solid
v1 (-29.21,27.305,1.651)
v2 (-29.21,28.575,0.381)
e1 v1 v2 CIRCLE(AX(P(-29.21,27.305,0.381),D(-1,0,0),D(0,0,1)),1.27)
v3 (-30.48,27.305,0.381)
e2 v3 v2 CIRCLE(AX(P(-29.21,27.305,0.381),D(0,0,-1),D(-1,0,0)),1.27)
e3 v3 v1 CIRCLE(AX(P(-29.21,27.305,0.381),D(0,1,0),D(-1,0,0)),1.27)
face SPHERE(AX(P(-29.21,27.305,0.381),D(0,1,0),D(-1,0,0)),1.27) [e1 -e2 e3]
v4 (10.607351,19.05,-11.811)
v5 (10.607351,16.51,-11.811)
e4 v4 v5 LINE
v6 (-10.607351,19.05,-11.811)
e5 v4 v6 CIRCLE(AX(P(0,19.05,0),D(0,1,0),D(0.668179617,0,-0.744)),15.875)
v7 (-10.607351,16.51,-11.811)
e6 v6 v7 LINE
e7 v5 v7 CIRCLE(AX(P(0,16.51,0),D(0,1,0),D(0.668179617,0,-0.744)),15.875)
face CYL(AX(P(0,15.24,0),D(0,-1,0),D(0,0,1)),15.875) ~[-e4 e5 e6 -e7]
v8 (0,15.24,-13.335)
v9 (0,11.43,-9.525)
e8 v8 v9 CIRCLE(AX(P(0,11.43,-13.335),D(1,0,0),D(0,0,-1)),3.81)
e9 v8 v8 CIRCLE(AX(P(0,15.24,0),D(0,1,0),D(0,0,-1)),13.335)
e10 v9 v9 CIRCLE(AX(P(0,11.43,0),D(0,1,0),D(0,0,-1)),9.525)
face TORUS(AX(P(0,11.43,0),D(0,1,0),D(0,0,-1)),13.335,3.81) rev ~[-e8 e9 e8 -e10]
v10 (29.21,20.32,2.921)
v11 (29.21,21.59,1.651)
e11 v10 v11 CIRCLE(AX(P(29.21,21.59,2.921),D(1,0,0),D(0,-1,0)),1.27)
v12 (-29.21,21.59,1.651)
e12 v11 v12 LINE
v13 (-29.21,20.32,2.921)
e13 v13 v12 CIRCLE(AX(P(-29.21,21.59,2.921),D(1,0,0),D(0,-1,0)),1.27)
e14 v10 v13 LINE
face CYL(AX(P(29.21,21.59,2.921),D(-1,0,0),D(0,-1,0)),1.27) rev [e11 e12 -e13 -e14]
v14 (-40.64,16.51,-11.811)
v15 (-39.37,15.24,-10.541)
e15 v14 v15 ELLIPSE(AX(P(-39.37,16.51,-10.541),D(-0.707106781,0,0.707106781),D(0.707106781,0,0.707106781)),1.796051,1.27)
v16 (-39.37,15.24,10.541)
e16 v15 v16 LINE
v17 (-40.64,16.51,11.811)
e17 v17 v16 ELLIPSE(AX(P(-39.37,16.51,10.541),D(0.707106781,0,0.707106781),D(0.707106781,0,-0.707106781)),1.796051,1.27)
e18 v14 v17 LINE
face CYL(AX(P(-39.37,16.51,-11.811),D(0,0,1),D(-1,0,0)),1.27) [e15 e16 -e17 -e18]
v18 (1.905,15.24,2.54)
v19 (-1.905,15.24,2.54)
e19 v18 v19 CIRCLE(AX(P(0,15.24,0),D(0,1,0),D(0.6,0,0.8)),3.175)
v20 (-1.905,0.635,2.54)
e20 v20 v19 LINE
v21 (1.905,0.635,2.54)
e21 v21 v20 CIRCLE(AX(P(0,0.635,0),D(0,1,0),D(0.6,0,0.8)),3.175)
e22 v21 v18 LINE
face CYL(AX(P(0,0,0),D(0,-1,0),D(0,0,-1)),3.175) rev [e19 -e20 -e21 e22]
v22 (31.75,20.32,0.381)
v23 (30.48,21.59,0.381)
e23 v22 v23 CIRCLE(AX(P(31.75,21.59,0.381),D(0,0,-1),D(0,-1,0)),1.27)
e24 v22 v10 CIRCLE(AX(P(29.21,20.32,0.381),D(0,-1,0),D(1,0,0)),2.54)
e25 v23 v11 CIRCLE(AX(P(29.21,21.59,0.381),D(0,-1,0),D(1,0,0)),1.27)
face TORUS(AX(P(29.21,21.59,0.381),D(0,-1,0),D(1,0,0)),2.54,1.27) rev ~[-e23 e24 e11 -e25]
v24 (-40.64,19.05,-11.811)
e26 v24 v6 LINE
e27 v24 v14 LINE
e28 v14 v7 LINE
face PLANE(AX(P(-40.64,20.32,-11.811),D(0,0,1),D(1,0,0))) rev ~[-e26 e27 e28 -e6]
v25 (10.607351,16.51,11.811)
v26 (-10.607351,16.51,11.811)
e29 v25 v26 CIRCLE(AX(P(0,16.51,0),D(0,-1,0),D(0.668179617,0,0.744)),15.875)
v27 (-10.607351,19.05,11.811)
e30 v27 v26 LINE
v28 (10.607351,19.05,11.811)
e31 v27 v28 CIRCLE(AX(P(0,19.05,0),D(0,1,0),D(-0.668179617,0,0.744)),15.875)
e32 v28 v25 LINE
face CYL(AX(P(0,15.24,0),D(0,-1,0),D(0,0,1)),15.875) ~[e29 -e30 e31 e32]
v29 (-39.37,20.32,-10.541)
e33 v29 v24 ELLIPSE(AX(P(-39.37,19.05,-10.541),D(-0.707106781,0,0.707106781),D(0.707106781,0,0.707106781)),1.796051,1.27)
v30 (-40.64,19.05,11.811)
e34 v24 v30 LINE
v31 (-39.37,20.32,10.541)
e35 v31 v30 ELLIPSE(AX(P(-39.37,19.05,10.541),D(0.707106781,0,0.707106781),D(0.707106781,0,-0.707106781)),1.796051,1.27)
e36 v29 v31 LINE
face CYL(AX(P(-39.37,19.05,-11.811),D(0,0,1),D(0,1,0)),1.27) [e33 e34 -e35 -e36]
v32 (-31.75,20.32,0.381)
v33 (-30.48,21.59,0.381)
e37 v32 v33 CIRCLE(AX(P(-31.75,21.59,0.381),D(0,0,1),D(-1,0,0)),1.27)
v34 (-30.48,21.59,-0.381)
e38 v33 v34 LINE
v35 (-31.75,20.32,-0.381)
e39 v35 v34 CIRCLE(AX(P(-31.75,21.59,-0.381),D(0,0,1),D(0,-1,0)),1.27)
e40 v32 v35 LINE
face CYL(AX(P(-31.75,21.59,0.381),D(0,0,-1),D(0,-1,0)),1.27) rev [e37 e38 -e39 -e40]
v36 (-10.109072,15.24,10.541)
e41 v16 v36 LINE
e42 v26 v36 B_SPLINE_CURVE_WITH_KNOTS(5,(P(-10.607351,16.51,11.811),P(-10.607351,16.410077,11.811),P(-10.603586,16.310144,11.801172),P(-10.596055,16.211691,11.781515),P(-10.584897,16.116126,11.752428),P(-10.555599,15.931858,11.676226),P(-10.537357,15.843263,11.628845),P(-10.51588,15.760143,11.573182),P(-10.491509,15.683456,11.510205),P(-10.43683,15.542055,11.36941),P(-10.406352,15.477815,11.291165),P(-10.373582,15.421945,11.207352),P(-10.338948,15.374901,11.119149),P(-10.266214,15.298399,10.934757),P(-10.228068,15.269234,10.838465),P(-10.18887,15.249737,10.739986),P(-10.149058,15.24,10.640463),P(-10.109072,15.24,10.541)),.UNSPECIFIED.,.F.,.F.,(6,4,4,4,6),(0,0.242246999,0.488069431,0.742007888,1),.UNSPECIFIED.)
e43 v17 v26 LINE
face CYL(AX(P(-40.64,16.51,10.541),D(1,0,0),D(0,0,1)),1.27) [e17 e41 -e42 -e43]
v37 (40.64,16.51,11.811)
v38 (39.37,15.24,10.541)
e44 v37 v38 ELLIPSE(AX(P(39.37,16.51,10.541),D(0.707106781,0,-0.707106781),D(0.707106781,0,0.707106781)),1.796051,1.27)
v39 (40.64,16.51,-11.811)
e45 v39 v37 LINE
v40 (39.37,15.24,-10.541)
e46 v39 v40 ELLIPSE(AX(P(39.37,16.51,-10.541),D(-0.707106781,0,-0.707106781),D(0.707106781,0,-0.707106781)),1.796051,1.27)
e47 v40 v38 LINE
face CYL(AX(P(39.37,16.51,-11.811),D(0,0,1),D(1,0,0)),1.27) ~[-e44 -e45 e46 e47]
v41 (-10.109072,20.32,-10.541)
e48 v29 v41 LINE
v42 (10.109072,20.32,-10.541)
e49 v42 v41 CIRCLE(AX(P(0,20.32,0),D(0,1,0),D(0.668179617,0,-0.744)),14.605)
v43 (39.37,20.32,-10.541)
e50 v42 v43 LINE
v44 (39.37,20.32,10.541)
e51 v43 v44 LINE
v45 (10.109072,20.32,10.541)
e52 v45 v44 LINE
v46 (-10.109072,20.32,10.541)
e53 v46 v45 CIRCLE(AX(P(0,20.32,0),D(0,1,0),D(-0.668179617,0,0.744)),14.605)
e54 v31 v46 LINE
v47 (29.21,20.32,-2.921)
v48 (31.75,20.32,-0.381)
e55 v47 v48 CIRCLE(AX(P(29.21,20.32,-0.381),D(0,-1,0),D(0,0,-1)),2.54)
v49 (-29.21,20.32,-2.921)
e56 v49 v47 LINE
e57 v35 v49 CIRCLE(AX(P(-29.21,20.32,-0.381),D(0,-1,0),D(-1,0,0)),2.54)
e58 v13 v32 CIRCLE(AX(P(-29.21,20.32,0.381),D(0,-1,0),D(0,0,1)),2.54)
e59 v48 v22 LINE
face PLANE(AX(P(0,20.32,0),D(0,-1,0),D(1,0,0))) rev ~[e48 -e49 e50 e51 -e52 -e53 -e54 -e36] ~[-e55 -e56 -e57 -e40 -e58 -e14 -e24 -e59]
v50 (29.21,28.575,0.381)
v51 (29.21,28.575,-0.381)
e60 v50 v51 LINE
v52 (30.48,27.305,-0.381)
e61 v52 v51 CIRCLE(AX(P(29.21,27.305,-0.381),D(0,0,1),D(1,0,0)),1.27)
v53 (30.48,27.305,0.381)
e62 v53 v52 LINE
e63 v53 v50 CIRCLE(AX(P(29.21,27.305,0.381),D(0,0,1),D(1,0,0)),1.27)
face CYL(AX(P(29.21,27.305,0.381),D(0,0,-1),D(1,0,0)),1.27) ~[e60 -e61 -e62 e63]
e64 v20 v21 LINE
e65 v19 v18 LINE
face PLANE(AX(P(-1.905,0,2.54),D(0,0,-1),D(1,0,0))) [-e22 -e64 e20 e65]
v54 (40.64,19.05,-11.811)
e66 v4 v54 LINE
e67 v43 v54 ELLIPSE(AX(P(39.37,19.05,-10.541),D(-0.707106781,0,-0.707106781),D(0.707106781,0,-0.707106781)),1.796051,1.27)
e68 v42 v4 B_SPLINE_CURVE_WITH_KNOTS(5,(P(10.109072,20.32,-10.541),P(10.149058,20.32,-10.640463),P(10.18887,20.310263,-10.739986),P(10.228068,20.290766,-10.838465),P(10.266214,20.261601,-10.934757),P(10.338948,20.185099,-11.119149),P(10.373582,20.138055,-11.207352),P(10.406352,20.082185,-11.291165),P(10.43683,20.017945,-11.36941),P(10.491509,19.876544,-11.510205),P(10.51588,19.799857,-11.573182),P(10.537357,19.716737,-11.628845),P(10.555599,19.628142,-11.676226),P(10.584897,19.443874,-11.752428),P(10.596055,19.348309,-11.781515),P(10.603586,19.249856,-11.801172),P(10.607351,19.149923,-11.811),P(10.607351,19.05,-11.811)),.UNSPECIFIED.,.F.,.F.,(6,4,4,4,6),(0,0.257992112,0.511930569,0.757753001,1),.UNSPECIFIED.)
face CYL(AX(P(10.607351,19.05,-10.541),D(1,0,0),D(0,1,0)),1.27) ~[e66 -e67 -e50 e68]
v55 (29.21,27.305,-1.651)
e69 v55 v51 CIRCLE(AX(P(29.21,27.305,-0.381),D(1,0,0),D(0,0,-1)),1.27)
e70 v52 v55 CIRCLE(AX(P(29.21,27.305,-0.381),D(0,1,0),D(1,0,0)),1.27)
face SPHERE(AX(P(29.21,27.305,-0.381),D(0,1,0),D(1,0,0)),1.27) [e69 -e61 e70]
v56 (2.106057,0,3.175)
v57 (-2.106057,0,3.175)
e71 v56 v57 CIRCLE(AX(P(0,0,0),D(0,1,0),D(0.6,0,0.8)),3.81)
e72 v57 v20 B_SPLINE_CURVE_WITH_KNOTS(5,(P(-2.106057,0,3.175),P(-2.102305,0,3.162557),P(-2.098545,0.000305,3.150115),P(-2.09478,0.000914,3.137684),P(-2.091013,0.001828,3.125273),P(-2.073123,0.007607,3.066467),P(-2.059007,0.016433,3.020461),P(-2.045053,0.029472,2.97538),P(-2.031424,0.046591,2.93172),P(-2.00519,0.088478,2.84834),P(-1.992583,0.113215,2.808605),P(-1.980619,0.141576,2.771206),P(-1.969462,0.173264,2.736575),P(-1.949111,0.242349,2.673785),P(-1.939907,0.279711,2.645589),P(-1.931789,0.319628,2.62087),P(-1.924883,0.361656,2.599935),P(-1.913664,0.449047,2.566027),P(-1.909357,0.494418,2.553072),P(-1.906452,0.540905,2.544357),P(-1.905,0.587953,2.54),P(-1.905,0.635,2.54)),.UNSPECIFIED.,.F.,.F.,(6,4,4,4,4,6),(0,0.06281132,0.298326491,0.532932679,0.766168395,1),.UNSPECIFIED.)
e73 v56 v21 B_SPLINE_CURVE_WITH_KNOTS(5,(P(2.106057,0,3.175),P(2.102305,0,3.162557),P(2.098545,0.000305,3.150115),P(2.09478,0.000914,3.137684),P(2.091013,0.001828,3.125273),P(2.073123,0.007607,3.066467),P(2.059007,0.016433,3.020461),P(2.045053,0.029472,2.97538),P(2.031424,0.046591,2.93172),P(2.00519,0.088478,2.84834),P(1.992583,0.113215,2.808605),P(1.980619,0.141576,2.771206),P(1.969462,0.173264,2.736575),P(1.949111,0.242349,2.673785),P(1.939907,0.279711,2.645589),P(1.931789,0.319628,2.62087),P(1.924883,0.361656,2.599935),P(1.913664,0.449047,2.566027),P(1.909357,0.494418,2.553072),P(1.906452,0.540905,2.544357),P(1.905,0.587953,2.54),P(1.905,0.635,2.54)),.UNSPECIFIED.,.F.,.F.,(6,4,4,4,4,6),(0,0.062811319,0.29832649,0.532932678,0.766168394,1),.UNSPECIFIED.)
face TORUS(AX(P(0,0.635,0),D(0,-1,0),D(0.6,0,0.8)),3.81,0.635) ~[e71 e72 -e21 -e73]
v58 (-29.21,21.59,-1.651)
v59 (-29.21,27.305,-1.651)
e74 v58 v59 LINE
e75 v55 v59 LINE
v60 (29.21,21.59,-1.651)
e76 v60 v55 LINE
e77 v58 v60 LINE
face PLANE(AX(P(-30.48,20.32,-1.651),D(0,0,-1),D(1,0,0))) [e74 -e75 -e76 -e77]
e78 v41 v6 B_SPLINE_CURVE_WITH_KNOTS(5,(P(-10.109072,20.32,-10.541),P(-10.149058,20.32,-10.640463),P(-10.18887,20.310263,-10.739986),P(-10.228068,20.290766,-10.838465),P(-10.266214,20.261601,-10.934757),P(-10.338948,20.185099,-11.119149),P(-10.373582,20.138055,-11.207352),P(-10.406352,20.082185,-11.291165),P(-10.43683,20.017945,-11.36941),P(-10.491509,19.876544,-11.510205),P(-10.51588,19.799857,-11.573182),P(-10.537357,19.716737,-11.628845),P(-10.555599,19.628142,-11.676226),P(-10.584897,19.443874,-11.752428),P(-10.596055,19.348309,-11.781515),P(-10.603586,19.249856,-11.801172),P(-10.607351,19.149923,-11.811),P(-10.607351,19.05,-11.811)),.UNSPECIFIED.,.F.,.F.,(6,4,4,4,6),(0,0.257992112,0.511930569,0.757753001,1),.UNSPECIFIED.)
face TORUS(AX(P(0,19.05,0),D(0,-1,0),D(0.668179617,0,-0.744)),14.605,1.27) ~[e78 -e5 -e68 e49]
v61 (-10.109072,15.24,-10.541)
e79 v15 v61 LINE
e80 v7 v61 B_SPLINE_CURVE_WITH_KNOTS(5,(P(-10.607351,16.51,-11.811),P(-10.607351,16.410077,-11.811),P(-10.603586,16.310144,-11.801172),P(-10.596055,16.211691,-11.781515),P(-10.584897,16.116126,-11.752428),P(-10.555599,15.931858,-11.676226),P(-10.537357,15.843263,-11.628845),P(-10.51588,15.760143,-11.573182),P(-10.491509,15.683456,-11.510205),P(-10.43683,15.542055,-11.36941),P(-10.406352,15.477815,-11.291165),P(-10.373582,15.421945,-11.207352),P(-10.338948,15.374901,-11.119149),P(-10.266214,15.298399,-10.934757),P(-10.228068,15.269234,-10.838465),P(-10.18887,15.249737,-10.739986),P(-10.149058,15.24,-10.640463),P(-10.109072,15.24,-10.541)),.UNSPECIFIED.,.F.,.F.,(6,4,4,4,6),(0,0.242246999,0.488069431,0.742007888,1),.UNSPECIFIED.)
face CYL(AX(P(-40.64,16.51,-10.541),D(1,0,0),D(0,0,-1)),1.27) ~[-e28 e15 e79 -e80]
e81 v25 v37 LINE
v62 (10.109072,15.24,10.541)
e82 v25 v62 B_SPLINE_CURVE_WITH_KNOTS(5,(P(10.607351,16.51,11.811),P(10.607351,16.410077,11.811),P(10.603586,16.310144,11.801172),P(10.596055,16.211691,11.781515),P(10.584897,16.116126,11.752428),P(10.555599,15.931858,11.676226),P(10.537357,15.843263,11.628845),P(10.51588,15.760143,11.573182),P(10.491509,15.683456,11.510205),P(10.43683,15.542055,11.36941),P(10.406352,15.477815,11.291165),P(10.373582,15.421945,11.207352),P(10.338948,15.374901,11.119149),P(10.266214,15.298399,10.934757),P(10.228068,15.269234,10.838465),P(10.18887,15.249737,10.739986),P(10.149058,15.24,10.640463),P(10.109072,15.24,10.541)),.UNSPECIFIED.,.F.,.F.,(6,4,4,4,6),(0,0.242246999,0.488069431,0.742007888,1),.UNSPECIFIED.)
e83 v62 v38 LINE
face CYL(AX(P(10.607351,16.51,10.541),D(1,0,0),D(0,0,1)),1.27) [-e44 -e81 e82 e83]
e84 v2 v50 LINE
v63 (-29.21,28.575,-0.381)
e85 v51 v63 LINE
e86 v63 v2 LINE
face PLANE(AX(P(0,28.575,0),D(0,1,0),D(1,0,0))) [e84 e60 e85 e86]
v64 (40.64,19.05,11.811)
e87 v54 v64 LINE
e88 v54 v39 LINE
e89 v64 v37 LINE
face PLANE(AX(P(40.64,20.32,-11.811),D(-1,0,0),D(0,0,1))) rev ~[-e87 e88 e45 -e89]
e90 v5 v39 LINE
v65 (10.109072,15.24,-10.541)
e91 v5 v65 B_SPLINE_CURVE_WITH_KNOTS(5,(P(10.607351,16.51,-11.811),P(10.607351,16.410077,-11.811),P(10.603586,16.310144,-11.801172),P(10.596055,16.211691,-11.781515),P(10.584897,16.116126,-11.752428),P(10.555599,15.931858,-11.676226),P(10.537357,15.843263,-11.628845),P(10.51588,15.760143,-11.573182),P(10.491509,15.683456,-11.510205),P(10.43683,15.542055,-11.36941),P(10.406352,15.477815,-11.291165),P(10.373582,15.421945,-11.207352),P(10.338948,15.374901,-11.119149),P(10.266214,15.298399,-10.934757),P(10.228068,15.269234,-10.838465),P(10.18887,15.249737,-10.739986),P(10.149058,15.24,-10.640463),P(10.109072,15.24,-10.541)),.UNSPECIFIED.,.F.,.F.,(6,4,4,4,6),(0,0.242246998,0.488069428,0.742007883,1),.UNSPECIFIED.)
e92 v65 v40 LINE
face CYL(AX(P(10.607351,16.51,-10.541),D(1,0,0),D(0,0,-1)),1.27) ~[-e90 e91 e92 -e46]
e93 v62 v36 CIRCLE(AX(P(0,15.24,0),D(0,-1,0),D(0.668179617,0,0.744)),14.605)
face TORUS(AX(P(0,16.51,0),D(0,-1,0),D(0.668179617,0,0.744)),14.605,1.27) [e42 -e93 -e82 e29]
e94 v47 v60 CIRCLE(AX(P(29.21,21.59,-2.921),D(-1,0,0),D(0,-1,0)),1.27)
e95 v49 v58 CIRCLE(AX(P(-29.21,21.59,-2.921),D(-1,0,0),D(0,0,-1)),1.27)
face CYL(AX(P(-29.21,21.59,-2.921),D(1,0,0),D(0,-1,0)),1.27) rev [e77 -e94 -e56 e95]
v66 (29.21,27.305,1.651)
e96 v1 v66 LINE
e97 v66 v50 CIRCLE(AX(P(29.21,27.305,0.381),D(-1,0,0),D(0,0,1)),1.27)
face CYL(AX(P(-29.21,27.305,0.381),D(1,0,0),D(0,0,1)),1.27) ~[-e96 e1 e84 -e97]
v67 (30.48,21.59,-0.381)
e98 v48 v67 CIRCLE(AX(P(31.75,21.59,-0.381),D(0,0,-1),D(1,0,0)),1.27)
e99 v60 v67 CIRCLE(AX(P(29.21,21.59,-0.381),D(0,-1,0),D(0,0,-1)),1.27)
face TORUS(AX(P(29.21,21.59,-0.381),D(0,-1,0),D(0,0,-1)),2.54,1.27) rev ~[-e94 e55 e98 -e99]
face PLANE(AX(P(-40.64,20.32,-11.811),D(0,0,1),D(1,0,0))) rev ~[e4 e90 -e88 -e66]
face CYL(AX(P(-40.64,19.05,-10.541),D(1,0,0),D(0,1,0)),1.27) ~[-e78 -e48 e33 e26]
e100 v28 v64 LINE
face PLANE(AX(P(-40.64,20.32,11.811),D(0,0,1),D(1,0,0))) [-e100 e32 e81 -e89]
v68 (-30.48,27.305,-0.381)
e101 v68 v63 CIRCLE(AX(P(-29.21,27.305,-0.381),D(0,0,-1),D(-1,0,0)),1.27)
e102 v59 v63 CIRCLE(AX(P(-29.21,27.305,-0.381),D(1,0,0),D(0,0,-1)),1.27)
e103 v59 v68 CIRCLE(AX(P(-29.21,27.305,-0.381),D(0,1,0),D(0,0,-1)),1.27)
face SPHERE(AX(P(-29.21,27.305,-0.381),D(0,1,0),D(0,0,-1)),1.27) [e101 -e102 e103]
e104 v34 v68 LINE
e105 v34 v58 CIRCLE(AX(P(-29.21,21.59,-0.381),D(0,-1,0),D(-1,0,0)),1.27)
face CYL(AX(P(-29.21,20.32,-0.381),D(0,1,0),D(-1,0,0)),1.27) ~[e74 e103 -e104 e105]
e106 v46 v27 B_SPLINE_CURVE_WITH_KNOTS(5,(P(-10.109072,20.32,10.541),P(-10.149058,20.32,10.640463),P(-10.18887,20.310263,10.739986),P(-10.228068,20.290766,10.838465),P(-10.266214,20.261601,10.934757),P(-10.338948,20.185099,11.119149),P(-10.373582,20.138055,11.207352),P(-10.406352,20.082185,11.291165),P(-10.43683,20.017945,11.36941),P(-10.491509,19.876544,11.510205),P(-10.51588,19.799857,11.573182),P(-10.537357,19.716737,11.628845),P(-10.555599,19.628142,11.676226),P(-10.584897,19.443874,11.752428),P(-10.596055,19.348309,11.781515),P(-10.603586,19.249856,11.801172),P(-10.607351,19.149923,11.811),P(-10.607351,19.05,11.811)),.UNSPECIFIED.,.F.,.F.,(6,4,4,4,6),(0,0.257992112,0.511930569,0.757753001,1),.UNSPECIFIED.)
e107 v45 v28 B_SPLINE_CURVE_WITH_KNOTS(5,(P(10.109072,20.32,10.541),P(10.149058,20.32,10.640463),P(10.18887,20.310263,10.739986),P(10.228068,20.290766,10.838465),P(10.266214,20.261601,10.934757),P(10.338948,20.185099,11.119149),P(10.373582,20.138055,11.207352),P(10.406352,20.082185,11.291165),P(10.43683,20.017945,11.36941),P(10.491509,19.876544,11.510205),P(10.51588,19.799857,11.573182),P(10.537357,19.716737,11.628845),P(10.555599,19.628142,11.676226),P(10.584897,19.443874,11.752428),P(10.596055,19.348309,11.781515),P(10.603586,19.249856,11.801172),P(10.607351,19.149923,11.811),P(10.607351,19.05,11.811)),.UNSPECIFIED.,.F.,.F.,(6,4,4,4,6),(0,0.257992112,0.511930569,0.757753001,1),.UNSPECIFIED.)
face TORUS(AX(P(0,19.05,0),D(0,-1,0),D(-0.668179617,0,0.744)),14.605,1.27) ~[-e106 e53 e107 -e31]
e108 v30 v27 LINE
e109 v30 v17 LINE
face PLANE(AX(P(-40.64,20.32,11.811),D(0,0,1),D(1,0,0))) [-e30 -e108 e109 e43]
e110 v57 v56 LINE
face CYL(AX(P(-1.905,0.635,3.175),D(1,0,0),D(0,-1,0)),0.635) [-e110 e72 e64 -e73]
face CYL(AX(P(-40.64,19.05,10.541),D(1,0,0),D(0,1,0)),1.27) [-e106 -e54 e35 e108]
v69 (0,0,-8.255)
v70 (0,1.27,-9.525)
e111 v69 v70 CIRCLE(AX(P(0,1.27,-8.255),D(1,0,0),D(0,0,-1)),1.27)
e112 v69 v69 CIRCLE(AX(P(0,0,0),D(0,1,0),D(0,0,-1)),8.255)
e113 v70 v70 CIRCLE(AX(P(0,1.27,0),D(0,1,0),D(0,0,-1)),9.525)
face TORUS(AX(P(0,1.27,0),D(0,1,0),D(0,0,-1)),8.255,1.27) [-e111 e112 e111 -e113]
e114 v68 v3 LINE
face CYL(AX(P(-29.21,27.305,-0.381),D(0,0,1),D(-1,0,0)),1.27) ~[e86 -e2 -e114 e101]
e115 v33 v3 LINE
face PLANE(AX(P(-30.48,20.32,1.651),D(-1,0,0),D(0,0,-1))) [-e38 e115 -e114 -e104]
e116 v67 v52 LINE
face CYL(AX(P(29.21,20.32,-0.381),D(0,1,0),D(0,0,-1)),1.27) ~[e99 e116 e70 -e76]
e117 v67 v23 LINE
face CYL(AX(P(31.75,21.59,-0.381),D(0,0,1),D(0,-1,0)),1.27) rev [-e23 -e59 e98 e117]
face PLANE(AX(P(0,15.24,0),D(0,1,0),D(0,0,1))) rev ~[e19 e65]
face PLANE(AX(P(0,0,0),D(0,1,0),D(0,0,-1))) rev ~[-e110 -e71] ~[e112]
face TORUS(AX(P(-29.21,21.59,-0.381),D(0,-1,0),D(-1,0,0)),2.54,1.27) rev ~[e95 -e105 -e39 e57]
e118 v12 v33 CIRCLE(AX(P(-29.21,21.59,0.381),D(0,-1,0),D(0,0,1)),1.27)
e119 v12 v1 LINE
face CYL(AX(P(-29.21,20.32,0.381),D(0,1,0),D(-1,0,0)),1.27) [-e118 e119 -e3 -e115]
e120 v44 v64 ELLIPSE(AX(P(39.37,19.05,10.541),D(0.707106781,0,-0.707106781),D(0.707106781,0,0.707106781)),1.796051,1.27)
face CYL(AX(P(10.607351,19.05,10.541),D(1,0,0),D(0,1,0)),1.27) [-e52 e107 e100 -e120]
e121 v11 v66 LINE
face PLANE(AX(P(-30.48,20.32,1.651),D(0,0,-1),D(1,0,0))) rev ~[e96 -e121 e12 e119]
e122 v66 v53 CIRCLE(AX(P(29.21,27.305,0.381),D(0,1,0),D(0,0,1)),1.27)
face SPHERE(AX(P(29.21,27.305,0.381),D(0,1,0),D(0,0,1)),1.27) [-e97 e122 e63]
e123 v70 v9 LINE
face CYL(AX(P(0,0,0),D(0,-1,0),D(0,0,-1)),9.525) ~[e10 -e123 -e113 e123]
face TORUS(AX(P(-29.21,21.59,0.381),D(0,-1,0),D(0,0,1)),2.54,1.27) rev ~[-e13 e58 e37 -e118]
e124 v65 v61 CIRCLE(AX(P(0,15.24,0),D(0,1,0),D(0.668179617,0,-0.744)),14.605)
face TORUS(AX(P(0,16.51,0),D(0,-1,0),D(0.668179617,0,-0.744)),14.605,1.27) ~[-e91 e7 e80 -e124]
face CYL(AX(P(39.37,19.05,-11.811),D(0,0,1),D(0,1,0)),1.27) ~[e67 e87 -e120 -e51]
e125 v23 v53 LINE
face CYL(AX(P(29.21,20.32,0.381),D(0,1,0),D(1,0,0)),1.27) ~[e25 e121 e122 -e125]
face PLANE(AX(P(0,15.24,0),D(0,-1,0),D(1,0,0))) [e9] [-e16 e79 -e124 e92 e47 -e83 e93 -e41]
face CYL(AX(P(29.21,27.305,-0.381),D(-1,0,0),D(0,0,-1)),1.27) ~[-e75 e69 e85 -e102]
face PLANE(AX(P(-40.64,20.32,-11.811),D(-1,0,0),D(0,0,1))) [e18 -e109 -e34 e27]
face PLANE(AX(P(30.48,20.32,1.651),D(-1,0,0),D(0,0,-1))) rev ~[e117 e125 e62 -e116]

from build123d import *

# Parameters (mm, degrees)
SKETCH1_R           = 9.525
SKETCH1_R_2         = 3.175
BOSS_EXTRUDE1_DEPTH = 15.24
SKETCH2_R           = 15.875
SKETCH2_R_2         = 1.5875
BOSS_EXTRUDE2_DEPTH = 5.08
SKETCH3_W           = 60.96
SKETCH3_H           = 3.302
BOSS_EXTRUDE3_DEPTH = 8.255
SKETCH4_W           = 81.28
SKETCH4_H           = 23.622
BOSS_EXTRUDE4_DEPTH = 5.08
BOSS_EXTRUDE5_REACH = 54.155
FILLET1_R           = 1.27
FILLET2_R           = 1.27
FILLET3_R           = 1.27
FILLET4_R           = 1.27
FILLET5_R           = 3.81
FILLET6_R           = 0.635
FILLET7_R           = 1.27
FILLET8_R           = 1.27


with BuildPart() as part:
    # Sketch1 → Boss-Extrude1 (new body)
    with BuildSketch(Plane(origin=(0, 0, 0), x_dir=(1, 0, 0), z_dir=(0, 1, 0))):
        with Locations(Location((0, 0, 0), (0, 0, 90))):
            Circle(SKETCH1_R)
        with Locations(Location((0, 0, 0), (0, 0, 90))):
            Circle(SKETCH1_R_2, mode=Mode.SUBTRACT)
    extrude(amount=BOSS_EXTRUDE1_DEPTH)

    # Sketch2 → Boss-Extrude2 (add)
    with BuildSketch(Plane(origin=(0, 15.24, 0), x_dir=(1, 0, 0), z_dir=(0, 1, 0))):
        with Locations(Location((0, 0, 0), (0, 0, 270))):
            Circle(SKETCH2_R)
        with Locations(Location((0, 0, 0), (0, 0, 270))):
            Circle(SKETCH2_R_2, mode=Mode.SUBTRACT)
    extrude(amount=BOSS_EXTRUDE2_DEPTH)

    # Sketch3 → Boss-Extrude3 (add)
    with BuildSketch(Plane(origin=(0, 20.32, 0), x_dir=(1, 0, 0), z_dir=(0, 1, 0))):
        Rectangle(SKETCH3_W, SKETCH3_H)
    extrude(amount=BOSS_EXTRUDE3_DEPTH)

    # Sketch4 → Boss-Extrude4 (add)
    with BuildSketch(Plane.XZ.offset(-20.32)):
        Rectangle(SKETCH4_W, SKETCH4_H)
    extrude(amount=BOSS_EXTRUDE4_DEPTH)

    # Sketch5 → Boss-Extrude5 (add, up to next)
    with BuildSketch(Plane.XZ, mode=Mode.PRIVATE) as boss_extrude5_sk1:
        with BuildLine():
            ThreePointArc((1.905, 2.54), (0, 3.175), (-1.905, 2.54))
            Line((-1.905, 2.54), (1.905, 2.54))
        make_face()
    boss_extrude5_tool1 = extrude(boss_extrude5_sk1.sketch, amount=-BOSS_EXTRUDE5_REACH, mode=Mode.PRIVATE) - part.part
    add(boss_extrude5_tool1.solids().sort_by_distance((0, 0, 2.796311))[0])

    # Fillet1
    fillet1_edges = [part.edges().sort_by_distance(p)[0] for p in [
        (30.48, 24.4475, 1.651),
        (30.48, 24.4475, -1.651),
        (-30.48, 24.4475, -1.651),
        (-30.48, 24.4475, 1.651),
    ]]
    fillet(fillet1_edges, radius=FILLET1_R)

    # Fillet2
    fillet2_edges = [part.edges().sort_by_distance(p)[0] for p in [
        (0, 28.575, 1.651),
        (-30.48, 28.575, 0),
        (30.48, 28.575, 0),
        (0, 28.575, -1.651),
        (30.108025612, 28.575, 1.279025612),
        (30.108025612, 28.575, -1.279025612),
        (-30.108025612, 28.575, -1.279025612),
        (-30.108025612, 28.575, 1.279025612),
    ]]
    fillet(fillet2_edges, radius=FILLET2_R)

    # Fillet3
    fillet3_edges = [part.edges().sort_by_distance(p)[0] for p in [
        (0, 20.32, 15.875),
        (0, 20.32, -15.875),
        (25.623675707, 20.32, 11.811),
        (-25.623675707, 20.32, 11.811),
        (-25.623675707, 20.32, -11.811),
        (25.623675707, 20.32, -11.811),
        (40.64, 20.32, 0),
        (-40.64, 20.32, 0),
    ]]
    fillet(fillet3_edges, radius=FILLET3_R)

    # Fillet4
    fillet4_edges = [part.edges().sort_by_distance(p)[0] for p in [
        (0, 15.24, -15.875),
        (0, 15.24, 15.875),
        (25.623675707, 15.24, -11.811),
        (40.64, 15.24, 0),
        (25.623675707, 15.24, 11.811),
        (-25.623675707, 15.24, 11.811),
        (-40.64, 15.24, 0),
        (-25.623675707, 15.24, -11.811),
    ]]
    fillet(fillet4_edges, radius=FILLET4_R)

    # Fillet5
    fillet5_edges = [part.edges().sort_by_distance(p)[0] for p in [
        (0, 15.24, 9.525),
    ]]
    fillet(fillet5_edges, radius=FILLET5_R)

    # Fillet6
    fillet6_edges = [part.edges().sort_by_distance(p)[0] for p in [
        (0, 0, -3.175),
        (0, 0, 2.54),
    ]]
    fillet(fillet6_edges, radius=FILLET6_R)

    # Fillet7
    fillet7_edges = [part.edges().sort_by_distance(p)[0] for p in [
        (0, 0, 9.525),
    ]]
    fillet(fillet7_edges, radius=FILLET7_R)

    # Fillet8
    fillet8_edges = [part.edges().sort_by_distance(p)[0] for p in [
        (0, 20.32, 1.651),
        (-30.48, 20.32, 0),
        (0, 20.32, -1.651),
        (30.48, 20.32, 0),
        (-30.108025612, 20.32, 1.279025612),
        (-30.108025612, 20.32, -1.279025612),
        (30.108025612, 20.32, -1.279025612),
        (30.108025612, 20.32, 1.279025612),
    ]]
    fillet(fillet8_edges, radius=FILLET8_R)


solid = part.part
